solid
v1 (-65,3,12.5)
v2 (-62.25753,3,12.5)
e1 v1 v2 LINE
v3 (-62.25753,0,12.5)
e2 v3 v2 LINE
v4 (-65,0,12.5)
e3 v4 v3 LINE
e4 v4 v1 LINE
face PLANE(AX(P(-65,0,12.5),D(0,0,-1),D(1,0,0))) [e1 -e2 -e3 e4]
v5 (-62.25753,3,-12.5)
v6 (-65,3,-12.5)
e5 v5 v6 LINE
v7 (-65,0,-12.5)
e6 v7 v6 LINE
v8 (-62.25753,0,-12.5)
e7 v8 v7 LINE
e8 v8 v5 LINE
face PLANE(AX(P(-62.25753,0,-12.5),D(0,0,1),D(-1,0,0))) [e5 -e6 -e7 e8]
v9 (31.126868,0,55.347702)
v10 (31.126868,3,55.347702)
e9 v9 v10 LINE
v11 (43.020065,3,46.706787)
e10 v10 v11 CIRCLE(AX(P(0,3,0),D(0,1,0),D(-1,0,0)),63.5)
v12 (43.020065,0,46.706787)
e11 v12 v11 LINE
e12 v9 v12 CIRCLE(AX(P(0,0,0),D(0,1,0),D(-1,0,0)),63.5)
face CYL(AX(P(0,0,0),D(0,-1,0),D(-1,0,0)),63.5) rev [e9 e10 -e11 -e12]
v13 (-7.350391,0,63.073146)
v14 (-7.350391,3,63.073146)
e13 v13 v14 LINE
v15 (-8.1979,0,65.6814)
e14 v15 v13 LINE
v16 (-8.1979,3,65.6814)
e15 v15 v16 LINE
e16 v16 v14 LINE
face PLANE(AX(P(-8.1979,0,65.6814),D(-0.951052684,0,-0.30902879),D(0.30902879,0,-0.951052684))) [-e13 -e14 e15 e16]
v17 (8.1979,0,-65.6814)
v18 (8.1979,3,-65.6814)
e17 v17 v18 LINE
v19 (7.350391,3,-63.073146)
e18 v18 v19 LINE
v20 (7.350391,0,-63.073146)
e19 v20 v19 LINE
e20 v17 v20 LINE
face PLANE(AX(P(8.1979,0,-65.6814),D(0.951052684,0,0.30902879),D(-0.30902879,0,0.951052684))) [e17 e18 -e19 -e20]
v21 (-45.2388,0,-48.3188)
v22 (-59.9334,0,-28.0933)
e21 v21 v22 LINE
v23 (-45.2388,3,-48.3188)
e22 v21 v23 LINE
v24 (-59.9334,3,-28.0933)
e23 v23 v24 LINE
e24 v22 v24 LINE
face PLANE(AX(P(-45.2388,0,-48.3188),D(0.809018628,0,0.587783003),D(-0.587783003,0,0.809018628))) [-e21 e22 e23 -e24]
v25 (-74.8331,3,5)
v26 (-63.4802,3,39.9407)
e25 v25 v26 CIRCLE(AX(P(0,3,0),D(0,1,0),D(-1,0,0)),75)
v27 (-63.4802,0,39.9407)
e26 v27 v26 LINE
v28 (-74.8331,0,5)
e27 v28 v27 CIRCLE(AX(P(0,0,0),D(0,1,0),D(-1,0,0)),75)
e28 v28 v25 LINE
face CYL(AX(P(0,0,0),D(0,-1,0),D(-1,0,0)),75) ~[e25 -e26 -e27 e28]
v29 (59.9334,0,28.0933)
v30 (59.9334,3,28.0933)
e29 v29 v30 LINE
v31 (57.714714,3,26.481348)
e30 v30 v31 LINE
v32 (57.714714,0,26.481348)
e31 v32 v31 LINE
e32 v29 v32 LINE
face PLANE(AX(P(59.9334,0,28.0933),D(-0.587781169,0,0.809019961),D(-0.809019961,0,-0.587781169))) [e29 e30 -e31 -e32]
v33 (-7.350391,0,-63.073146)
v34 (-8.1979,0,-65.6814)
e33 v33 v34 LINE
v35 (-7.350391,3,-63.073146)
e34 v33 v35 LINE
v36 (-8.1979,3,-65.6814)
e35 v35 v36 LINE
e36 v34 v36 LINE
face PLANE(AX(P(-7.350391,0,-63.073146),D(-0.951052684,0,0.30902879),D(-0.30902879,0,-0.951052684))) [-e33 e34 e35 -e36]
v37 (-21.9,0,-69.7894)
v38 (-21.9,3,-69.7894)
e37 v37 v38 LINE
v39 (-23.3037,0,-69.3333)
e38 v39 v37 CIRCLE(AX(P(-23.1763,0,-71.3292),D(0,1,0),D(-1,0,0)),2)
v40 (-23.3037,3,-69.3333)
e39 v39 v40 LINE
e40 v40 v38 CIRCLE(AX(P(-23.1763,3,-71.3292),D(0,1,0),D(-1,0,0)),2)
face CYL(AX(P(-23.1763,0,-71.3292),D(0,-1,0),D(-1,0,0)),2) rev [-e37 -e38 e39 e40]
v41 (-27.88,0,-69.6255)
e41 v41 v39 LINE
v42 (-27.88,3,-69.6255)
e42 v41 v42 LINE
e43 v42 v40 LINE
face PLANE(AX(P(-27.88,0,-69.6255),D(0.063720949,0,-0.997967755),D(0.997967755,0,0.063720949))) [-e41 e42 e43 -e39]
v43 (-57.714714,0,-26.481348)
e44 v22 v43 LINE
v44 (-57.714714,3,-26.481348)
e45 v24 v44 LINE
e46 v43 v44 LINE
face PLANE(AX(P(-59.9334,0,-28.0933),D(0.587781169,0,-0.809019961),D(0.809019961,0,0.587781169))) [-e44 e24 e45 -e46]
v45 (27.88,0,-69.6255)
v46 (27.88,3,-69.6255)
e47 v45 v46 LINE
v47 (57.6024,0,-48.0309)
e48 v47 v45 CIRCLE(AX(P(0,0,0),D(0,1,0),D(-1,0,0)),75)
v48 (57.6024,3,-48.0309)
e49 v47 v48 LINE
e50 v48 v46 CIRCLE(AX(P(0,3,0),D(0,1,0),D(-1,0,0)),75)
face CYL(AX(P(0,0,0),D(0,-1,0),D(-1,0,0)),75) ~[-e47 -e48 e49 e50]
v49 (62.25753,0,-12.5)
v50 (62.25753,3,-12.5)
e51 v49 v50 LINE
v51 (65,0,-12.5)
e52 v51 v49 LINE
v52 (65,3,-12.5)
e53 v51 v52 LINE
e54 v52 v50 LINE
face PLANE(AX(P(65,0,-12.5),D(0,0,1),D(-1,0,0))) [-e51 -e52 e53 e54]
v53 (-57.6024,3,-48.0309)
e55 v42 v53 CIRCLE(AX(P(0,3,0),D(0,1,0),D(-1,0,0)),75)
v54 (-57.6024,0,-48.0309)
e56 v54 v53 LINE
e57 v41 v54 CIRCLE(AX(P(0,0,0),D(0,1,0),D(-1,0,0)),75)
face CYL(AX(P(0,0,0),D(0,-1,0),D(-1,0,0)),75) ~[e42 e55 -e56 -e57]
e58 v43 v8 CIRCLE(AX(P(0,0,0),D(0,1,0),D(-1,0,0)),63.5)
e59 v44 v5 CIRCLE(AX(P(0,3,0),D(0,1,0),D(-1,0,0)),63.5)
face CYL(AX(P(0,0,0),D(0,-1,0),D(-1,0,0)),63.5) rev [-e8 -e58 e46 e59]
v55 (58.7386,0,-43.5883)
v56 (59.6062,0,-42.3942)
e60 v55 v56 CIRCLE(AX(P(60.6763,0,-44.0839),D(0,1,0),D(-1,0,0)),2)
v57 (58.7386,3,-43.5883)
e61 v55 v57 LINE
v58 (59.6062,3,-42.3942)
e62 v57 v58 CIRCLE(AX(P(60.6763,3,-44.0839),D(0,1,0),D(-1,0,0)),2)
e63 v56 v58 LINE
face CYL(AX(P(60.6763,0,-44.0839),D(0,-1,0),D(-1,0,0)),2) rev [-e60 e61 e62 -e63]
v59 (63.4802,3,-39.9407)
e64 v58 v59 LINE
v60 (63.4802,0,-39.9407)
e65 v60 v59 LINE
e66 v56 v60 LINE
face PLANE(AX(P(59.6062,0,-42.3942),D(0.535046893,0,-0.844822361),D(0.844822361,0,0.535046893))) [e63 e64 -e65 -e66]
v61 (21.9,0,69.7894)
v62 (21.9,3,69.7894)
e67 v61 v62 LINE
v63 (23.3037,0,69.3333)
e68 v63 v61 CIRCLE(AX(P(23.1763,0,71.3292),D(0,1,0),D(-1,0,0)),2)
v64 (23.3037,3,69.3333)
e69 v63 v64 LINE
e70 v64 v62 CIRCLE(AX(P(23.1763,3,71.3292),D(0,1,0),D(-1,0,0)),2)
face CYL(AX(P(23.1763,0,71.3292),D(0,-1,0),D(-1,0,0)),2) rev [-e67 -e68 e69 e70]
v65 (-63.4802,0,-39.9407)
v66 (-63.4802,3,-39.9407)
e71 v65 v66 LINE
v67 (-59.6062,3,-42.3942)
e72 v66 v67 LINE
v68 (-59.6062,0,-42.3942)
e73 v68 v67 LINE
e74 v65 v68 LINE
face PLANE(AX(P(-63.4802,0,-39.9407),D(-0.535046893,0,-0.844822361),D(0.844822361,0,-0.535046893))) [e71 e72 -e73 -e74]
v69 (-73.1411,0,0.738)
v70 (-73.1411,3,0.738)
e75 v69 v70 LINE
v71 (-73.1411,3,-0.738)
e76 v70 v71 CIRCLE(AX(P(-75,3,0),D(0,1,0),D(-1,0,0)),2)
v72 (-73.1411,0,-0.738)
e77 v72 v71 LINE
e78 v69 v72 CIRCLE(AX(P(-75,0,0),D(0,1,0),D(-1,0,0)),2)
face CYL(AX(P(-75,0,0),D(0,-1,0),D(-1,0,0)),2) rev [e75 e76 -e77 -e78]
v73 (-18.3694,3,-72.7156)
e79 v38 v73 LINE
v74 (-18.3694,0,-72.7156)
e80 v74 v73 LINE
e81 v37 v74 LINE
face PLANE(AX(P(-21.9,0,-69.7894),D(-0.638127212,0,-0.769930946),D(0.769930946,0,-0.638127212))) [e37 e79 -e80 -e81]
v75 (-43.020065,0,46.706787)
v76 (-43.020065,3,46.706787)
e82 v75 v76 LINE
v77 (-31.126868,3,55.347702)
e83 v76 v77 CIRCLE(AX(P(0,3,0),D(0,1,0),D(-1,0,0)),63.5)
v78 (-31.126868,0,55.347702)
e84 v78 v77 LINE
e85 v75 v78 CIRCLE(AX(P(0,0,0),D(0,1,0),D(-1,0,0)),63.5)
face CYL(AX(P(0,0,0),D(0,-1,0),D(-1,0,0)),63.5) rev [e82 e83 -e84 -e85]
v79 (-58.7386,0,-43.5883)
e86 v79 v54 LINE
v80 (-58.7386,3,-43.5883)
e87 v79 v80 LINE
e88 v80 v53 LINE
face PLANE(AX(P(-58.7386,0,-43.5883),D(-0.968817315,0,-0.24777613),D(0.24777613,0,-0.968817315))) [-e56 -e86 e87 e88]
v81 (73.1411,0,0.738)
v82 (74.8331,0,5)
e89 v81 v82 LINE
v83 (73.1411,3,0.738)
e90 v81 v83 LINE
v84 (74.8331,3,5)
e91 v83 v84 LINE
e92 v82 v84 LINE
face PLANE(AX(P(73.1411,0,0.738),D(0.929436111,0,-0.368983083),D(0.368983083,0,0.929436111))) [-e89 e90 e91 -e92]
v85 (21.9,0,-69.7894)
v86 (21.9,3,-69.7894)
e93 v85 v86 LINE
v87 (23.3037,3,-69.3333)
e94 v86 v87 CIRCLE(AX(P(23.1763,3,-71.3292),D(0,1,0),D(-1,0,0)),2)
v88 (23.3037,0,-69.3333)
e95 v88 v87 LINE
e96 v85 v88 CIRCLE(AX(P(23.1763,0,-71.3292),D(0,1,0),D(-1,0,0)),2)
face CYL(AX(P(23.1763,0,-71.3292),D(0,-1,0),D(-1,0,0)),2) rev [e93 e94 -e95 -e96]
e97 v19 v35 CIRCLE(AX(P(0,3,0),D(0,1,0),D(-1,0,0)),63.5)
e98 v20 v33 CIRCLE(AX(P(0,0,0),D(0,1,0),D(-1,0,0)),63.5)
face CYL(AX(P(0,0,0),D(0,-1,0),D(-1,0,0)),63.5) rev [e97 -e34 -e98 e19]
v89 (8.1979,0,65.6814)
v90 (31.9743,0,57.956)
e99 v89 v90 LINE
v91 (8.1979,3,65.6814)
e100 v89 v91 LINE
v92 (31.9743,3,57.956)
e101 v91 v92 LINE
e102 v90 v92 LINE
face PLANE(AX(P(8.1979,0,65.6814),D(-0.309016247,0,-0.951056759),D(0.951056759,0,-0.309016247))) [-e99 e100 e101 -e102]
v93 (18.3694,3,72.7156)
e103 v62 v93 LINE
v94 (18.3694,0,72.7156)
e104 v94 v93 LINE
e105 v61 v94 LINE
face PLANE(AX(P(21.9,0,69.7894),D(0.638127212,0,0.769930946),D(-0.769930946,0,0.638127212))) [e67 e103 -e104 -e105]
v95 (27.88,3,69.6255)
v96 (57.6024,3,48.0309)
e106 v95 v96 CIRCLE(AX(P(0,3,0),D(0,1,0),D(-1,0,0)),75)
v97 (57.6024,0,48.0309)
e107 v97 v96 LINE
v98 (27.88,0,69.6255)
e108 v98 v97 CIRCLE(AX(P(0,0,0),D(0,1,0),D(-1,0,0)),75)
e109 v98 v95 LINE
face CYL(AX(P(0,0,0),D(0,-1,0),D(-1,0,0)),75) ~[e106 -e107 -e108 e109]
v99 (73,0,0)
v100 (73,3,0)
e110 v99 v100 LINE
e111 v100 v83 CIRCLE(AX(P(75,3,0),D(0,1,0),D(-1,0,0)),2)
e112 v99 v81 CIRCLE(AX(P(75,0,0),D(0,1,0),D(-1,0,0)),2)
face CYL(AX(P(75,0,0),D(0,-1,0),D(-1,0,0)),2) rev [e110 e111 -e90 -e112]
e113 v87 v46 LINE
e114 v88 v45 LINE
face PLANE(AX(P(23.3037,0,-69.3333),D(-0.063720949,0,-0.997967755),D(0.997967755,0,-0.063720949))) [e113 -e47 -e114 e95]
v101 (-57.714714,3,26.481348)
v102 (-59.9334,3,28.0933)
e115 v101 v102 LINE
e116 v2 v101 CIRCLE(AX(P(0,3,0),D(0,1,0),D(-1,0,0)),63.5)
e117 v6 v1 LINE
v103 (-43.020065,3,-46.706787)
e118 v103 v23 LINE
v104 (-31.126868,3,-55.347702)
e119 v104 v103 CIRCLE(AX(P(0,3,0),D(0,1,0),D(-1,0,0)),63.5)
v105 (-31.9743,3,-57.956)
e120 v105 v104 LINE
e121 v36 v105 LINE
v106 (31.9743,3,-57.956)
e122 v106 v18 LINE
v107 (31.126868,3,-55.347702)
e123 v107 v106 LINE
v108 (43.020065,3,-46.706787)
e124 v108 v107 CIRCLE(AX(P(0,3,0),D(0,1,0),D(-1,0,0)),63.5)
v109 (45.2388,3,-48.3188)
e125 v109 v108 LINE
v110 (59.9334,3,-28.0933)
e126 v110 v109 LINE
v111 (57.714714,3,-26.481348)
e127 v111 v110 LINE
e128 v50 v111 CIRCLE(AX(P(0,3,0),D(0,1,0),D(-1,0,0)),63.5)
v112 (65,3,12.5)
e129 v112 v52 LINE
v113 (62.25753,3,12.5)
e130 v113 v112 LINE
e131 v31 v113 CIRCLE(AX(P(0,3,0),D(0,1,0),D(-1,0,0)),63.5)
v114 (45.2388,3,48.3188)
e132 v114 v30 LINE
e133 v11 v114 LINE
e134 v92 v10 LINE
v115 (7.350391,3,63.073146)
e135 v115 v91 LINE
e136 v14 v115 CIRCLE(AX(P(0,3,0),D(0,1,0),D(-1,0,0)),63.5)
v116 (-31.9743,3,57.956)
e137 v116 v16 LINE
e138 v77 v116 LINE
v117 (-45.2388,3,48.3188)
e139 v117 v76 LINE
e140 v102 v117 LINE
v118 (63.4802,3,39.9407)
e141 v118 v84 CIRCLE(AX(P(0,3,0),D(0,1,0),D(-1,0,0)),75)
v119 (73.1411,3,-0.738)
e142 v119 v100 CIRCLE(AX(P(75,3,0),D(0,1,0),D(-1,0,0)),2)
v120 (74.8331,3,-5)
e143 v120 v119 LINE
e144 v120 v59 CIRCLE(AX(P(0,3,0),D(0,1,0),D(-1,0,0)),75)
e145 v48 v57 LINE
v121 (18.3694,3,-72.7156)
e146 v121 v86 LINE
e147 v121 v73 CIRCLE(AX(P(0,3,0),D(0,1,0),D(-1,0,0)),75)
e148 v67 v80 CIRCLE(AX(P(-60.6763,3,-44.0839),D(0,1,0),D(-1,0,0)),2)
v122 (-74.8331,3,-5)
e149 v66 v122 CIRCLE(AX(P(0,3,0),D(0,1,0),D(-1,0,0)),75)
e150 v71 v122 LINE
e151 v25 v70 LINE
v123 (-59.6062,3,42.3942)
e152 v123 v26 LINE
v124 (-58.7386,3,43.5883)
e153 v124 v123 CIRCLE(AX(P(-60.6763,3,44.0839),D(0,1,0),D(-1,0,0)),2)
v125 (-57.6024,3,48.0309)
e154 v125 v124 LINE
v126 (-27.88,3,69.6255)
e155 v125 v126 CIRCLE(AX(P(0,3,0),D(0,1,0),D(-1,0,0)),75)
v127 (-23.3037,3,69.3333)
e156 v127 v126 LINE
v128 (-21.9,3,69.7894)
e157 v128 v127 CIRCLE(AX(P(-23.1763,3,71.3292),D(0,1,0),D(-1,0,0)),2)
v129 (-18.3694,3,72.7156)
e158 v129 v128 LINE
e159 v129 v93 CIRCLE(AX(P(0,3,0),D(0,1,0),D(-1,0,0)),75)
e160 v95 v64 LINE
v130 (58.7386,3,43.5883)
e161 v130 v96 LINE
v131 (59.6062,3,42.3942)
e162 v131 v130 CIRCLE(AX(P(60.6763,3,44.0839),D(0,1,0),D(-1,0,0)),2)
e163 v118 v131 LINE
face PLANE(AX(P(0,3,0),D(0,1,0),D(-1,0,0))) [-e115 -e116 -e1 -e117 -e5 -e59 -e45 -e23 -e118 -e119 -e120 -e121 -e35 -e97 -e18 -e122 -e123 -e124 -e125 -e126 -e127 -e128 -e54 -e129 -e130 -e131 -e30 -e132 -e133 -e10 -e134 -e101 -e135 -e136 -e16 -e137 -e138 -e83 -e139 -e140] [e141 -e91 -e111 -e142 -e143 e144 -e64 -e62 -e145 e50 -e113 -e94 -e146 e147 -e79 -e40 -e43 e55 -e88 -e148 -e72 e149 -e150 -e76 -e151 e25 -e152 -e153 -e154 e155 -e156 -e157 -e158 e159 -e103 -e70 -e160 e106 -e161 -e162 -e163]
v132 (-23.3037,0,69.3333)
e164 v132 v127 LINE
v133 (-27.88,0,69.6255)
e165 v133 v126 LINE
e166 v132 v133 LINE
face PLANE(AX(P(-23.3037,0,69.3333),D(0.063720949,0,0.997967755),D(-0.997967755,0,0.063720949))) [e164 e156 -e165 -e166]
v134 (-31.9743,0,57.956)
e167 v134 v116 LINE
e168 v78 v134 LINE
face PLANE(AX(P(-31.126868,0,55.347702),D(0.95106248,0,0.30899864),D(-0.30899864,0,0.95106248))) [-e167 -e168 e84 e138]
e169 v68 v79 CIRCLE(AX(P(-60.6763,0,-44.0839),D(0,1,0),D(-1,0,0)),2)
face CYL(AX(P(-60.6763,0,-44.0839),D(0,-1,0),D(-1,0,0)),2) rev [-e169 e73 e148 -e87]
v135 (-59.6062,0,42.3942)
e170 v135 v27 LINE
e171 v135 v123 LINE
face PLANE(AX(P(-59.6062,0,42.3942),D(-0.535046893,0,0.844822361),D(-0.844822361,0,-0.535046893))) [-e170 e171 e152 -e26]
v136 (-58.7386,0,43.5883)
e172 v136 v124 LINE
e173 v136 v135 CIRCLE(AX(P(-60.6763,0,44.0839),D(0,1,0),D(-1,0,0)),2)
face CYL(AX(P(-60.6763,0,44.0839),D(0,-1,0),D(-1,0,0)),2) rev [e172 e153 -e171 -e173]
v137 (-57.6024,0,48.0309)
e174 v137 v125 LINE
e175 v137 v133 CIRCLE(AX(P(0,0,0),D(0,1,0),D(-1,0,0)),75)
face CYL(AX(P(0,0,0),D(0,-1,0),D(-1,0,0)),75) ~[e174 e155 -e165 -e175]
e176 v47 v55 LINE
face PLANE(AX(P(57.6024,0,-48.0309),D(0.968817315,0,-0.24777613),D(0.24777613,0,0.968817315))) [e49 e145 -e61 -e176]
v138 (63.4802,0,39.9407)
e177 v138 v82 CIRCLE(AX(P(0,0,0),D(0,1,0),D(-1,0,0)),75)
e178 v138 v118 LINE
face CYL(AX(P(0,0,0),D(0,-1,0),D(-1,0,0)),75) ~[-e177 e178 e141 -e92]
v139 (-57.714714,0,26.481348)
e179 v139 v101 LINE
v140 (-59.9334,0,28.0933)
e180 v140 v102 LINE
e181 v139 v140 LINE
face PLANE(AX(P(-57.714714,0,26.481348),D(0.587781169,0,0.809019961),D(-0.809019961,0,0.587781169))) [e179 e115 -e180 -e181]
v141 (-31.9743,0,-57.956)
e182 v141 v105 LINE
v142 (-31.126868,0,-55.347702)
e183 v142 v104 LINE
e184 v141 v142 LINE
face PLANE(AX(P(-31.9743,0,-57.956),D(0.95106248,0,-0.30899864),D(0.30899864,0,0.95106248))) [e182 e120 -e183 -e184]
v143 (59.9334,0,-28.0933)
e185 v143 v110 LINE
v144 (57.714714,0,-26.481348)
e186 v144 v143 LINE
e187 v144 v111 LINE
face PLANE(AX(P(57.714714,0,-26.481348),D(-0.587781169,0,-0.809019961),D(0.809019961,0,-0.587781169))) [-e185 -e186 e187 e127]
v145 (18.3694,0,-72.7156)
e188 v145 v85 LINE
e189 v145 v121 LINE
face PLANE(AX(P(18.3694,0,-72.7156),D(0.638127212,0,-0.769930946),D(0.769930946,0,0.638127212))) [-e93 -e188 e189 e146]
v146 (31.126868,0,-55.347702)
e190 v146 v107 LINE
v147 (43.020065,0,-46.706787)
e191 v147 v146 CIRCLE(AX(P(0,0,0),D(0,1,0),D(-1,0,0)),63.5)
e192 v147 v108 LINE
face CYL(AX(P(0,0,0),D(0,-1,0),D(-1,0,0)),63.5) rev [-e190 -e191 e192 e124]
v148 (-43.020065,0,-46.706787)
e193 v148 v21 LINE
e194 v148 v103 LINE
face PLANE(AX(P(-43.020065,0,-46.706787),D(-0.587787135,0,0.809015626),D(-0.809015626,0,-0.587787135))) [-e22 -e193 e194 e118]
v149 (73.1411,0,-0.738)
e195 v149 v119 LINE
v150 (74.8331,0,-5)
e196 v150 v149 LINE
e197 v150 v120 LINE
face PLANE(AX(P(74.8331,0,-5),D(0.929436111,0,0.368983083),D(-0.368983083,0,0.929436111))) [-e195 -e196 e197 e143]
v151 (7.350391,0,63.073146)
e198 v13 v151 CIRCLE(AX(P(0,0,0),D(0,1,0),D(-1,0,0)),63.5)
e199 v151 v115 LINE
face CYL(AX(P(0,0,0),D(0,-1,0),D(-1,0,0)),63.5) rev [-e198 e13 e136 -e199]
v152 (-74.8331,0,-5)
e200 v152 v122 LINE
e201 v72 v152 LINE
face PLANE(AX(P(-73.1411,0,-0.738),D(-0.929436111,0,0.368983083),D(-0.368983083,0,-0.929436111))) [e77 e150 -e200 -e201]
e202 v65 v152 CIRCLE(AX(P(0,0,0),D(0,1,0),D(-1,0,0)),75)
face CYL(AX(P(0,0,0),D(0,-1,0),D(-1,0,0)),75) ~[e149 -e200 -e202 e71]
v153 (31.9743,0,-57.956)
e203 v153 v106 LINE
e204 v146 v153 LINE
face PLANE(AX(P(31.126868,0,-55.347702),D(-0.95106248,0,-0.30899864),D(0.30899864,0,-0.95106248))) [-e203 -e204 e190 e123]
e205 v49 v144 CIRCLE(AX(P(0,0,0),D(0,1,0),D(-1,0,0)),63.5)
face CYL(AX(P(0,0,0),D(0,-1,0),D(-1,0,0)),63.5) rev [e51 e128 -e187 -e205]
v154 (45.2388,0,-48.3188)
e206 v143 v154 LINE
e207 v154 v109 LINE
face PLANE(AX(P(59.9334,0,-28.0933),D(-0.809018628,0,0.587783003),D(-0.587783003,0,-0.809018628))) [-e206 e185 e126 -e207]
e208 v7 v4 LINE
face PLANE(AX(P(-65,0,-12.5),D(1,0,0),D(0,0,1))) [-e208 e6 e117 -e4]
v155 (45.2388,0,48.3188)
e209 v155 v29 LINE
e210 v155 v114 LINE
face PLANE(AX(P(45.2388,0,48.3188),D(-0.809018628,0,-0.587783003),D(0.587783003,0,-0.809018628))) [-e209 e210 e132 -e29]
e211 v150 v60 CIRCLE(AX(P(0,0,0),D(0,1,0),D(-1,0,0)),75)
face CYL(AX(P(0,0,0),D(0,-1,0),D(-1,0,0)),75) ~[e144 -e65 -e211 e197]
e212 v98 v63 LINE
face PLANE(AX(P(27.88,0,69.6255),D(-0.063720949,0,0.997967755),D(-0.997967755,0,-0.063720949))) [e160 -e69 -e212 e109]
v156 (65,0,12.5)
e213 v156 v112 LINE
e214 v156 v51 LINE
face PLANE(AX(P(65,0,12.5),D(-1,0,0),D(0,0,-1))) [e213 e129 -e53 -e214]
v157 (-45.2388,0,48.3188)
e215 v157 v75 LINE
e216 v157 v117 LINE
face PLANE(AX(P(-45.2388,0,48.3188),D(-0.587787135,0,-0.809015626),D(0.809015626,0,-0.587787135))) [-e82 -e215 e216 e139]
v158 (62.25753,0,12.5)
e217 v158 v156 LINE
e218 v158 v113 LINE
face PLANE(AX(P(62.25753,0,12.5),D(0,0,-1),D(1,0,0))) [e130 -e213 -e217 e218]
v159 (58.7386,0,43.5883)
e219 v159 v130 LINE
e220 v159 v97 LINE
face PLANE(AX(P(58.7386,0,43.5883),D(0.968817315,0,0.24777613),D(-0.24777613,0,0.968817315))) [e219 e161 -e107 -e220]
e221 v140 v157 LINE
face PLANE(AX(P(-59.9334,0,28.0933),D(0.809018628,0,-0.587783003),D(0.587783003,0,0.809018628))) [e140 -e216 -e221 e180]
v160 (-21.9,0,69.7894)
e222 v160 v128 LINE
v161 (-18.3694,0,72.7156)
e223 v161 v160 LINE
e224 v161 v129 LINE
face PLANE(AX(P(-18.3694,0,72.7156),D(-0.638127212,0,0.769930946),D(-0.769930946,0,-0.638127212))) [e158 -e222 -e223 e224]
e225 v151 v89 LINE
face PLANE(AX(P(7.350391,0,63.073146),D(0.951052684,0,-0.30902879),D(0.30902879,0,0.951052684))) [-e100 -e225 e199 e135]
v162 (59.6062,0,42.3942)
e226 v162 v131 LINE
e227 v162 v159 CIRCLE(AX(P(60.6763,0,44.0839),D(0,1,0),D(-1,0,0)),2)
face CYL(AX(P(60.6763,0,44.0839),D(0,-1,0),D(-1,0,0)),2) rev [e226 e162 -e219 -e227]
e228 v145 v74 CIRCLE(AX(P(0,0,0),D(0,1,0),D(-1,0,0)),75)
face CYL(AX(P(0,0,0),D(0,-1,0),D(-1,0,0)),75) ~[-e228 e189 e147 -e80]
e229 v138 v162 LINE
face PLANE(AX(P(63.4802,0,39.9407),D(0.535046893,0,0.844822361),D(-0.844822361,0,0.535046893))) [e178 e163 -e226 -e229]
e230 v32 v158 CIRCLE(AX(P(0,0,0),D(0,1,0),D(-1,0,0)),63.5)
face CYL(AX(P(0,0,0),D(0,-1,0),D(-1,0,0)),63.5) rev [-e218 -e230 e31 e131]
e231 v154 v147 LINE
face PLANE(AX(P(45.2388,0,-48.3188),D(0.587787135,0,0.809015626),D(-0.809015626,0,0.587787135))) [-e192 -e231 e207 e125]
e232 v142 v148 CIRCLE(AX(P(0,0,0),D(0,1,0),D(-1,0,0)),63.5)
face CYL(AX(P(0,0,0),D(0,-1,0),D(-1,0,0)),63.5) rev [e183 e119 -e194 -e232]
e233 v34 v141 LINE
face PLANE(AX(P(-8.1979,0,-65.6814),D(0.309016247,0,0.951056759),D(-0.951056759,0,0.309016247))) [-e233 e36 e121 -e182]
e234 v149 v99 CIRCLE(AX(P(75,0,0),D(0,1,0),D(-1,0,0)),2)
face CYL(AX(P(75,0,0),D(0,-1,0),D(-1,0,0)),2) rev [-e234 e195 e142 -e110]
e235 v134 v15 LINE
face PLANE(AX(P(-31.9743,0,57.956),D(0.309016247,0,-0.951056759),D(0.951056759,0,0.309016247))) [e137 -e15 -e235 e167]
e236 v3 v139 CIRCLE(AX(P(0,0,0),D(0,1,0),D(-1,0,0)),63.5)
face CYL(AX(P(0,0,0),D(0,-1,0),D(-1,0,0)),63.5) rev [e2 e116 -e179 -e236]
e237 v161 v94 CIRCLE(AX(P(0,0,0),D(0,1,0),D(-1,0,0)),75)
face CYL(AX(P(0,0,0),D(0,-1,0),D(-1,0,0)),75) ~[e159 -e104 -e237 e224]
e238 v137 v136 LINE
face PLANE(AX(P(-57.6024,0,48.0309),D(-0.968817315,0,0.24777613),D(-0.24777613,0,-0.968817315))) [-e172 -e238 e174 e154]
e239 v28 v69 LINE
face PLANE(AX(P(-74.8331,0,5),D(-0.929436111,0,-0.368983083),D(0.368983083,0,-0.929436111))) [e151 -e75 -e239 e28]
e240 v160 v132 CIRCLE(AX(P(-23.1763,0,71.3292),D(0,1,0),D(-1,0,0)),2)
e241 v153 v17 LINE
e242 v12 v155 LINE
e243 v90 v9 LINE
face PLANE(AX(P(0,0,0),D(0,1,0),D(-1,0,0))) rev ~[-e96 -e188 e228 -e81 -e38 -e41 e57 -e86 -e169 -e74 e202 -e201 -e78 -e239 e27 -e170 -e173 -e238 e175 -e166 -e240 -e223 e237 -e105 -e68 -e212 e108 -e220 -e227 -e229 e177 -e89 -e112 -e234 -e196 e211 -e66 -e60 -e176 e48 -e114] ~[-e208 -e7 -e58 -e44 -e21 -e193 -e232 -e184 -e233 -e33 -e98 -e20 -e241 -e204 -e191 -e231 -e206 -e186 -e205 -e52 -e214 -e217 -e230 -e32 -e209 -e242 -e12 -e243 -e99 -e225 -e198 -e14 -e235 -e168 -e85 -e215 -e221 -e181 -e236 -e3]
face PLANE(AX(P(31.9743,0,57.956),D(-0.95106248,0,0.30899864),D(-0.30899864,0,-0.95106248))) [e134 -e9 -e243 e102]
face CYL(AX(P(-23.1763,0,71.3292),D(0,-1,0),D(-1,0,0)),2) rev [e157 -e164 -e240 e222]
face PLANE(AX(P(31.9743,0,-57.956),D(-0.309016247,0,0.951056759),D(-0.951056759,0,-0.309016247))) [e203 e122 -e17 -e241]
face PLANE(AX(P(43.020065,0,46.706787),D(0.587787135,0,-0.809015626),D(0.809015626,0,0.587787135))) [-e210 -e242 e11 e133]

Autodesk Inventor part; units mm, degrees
ref_plane "YZ Plane" through (0, 0, 0) normal (1, 0, 0) x (0, 1, 0)
ref_plane "XZ Plane" through (0, 0, 0) normal (0, 1, 0) x (-1, 0, 0)
ref_plane "XY Plane" through (0, 0, 0) normal (0, 0, 1) x (1, 0, 0)
sketch "Sketch1" plane through (0, 0, 0) normal (0, 1, 0) x (-1, 0, 0)
  circle A0 centre (0, 0) radius 75
  circle A1 centre (0, 0) radius 63.5
  line L0 (62, 12.5) -> (62, -12.5)
  line L1 (62, -12.5) -> (65, -12.5)
  line L2 (65, -12.5) -> (65, 12.5)
  line L3 (65, 12.5) -> (62, 12.5)
  line L4 (62, 12.5) -> (65, -12.5) construction
  line L5 (62, -12.5) -> (65, 12.5) construction
  line L6 (75, 0) -> (0, 0) construction
  line L7 (59.9334, 28.0933) -> (45.2388, 48.3188)
  line L8 (45.2388, 48.3188) -> (42.8117, 46.5554)
  line L9 (42.8117, 46.5554) -> (57.5064, 26.33)
  line L10 (57.5064, 26.33) -> (59.9334, 28.0933)
  line L11 (31.9743, 57.956) -> (8.1979, 65.6814)
  line L12 (8.1979, 65.6814) -> (7.2708, 62.8282)
  line L13 (7.2708, 62.8282) -> (31.0473, 55.1028)
  line L14 (31.0473, 55.1028) -> (31.9743, 57.956)
  line L15 (-8.1979, 65.6814) -> (-31.9743, 57.956)
  line L16 (-31.9743, 57.956) -> (-31.0473, 55.1028)
  line L17 (-31.0473, 55.1028) -> (-7.2708, 62.8282)
  line L18 (-7.2708, 62.8282) -> (-8.1979, 65.6814)
  line L19 (-45.2388, 48.3188) -> (-59.9334, 28.0933)
  line L20 (-59.9334, 28.0933) -> (-57.5064, 26.33)
  line L21 (-57.5064, 26.33) -> (-42.8117, 46.5554)
  line L22 (-42.8117, 46.5554) -> (-45.2388, 48.3188)
  line L23 (-65, 12.5) -> (-65, -12.5)
  line L24 (-65, -12.5) -> (-62, -12.5)
  line L25 (-62, -12.5) -> (-62, 12.5)
  line L26 (-62, 12.5) -> (-65, 12.5)
  line L27 (-59.9334, -28.0933) -> (-45.2388, -48.3188)
  line L28 (-45.2388, -48.3188) -> (-42.8117, -46.5554)
  line L29 (-42.8117, -46.5554) -> (-57.5064, -26.33)
  line L30 (-57.5064, -26.33) -> (-59.9334, -28.0933)
  line L31 (-31.9743, -57.956) -> (-8.1979, -65.6814)
  line L32 (-8.1979, -65.6814) -> (-7.2708, -62.8282)
  line L33 (-7.2708, -62.8282) -> (-31.0473, -55.1028)
  line L34 (-31.0473, -55.1028) -> (-31.9743, -57.956)
  line L35 (8.1979, -65.6814) -> (31.9743, -57.956)
  line L36 (31.9743, -57.956) -> (31.0473, -55.1028)
  line L37 (31.0473, -55.1028) -> (7.2708, -62.8282)
  line L38 (7.2708, -62.8282) -> (8.1979, -65.6814)
  line L39 (45.2388, -48.3188) -> (59.9334, -28.0933)
  line L40 (59.9334, -28.0933) -> (57.5064, -26.33)
  line L41 (57.5064, -26.33) -> (42.8117, -46.5554)
  line L42 (42.8117, -46.5554) -> (45.2388, -48.3188)
  circle A2 centre (75, 0) radius 2
  line L43 (74.8331, 5) -> (73.1411, 0.738)
  line L44 (73.1411, -0.738) -> (74.8331, -5)
  circle A3 centre (60.6763, 44.0839) radius 2
  line L45 (57.6024, 48.0309) -> (58.7386, 43.5883)
  line L46 (59.6062, 42.3942) -> (63.4802, 39.9407)
  circle A4 centre (23.1763, 71.3292) radius 2
  line L47 (18.3694, 72.7156) -> (21.9, 69.7894)
  line L48 (23.3037, 69.3333) -> (27.88, 69.6255)
  circle A5 centre (-23.1763, 71.3292) radius 2
  line L49 (-27.88, 69.6255) -> (-23.3037, 69.3333)
  line L50 (-21.9, 69.7894) -> (-18.3694, 72.7156)
  circle A6 centre (-60.6763, 44.0839) radius 2
  line L51 (-63.4802, 39.9407) -> (-59.6062, 42.3942)
  line L52 (-58.7386, 43.5883) -> (-57.6024, 48.0309)
  circle A7 centre (-75, 0) radius 2
  line L53 (-74.8331, -5) -> (-73.1411, -0.738)
  line L54 (-73.1411, 0.738) -> (-74.8331, 5)
  circle A8 centre (-60.6763, -44.0839) radius 2
  line L55 (-57.6024, -48.0309) -> (-58.7386, -43.5883)
  line L56 (-59.6062, -42.3942) -> (-63.4802, -39.9407)
  circle A9 centre (-23.1763, -71.3292) radius 2
  line L57 (-18.3694, -72.7156) -> (-21.9, -69.7894)
  line L58 (-23.3037, -69.3333) -> (-27.88, -69.6255)
  circle A10 centre (23.1763, -71.3292) radius 2
  line L59 (27.88, -69.6255) -> (23.3037, -69.3333)
  line L60 (21.9, -69.7894) -> (18.3694, -72.7156)
  circle A11 centre (60.6763, -44.0839) radius 2
  line L61 (63.4802, -39.9407) -> (59.6062, -42.3942)
  line L62 (58.7386, -43.5883) -> (57.6024, -48.0309)
  point P0 (63.5, 0)
  point P1 (63.5, 0)
  point P2 (62.2575, -12.5)
  point P3 (57.7147, -26.4813)
  point P4 (43.0201, -46.7068)
  point P5 (31.1268, -55.3477)
  point P6 (7.3504, -63.0731)
  point P7 (-7.3504, -63.0731)
  point P8 (-31.1268, -55.3477)
  point P9 (-43.0201, -46.7068)
  point P10 (-57.7147, -26.4813)
  point P11 (-62.2575, -12.5)
  point P12 (-62.2575, 12.5)
  point P13 (-57.7147, 26.4813)
  point P14 (-43.0201, 46.7068)
  point P15 (-31.1268, 55.3477)
  point P16 (-7.3504, 63.0731)
  point P17 (7.3504, 63.0731)
  point P18 (31.1268, 55.3477)
  point P19 (43.0201, 46.7068)
  point P20 (57.7147, 26.4813)
  point P21 (62.2575, 12.5)
  point P22 (65, 0)
  dimension "d1" = 127
  dimension "d2" = 25
  dimension "d3" = 3
  dimension "d6" = 360
  dimension "d11" = 4
  dimension "d12" = 10
  dimension "d13" = 5
  dimension "d15" = 10
  dimension "d16" = 150
  dimension "d19" = 360
extrude "Extrusion1" add sketch "Sketch1" along normal blind 3 contours L43 A2 L44 A0 L61 A11 L62 L59 A10 L60 L57 A9 L58 L55 A8 L56 L53 A7 L54 L51 A6 L52 L49 A5 L50 L47 A4 L48 L45 A3 L46
properties part number "lamina_rotor"
